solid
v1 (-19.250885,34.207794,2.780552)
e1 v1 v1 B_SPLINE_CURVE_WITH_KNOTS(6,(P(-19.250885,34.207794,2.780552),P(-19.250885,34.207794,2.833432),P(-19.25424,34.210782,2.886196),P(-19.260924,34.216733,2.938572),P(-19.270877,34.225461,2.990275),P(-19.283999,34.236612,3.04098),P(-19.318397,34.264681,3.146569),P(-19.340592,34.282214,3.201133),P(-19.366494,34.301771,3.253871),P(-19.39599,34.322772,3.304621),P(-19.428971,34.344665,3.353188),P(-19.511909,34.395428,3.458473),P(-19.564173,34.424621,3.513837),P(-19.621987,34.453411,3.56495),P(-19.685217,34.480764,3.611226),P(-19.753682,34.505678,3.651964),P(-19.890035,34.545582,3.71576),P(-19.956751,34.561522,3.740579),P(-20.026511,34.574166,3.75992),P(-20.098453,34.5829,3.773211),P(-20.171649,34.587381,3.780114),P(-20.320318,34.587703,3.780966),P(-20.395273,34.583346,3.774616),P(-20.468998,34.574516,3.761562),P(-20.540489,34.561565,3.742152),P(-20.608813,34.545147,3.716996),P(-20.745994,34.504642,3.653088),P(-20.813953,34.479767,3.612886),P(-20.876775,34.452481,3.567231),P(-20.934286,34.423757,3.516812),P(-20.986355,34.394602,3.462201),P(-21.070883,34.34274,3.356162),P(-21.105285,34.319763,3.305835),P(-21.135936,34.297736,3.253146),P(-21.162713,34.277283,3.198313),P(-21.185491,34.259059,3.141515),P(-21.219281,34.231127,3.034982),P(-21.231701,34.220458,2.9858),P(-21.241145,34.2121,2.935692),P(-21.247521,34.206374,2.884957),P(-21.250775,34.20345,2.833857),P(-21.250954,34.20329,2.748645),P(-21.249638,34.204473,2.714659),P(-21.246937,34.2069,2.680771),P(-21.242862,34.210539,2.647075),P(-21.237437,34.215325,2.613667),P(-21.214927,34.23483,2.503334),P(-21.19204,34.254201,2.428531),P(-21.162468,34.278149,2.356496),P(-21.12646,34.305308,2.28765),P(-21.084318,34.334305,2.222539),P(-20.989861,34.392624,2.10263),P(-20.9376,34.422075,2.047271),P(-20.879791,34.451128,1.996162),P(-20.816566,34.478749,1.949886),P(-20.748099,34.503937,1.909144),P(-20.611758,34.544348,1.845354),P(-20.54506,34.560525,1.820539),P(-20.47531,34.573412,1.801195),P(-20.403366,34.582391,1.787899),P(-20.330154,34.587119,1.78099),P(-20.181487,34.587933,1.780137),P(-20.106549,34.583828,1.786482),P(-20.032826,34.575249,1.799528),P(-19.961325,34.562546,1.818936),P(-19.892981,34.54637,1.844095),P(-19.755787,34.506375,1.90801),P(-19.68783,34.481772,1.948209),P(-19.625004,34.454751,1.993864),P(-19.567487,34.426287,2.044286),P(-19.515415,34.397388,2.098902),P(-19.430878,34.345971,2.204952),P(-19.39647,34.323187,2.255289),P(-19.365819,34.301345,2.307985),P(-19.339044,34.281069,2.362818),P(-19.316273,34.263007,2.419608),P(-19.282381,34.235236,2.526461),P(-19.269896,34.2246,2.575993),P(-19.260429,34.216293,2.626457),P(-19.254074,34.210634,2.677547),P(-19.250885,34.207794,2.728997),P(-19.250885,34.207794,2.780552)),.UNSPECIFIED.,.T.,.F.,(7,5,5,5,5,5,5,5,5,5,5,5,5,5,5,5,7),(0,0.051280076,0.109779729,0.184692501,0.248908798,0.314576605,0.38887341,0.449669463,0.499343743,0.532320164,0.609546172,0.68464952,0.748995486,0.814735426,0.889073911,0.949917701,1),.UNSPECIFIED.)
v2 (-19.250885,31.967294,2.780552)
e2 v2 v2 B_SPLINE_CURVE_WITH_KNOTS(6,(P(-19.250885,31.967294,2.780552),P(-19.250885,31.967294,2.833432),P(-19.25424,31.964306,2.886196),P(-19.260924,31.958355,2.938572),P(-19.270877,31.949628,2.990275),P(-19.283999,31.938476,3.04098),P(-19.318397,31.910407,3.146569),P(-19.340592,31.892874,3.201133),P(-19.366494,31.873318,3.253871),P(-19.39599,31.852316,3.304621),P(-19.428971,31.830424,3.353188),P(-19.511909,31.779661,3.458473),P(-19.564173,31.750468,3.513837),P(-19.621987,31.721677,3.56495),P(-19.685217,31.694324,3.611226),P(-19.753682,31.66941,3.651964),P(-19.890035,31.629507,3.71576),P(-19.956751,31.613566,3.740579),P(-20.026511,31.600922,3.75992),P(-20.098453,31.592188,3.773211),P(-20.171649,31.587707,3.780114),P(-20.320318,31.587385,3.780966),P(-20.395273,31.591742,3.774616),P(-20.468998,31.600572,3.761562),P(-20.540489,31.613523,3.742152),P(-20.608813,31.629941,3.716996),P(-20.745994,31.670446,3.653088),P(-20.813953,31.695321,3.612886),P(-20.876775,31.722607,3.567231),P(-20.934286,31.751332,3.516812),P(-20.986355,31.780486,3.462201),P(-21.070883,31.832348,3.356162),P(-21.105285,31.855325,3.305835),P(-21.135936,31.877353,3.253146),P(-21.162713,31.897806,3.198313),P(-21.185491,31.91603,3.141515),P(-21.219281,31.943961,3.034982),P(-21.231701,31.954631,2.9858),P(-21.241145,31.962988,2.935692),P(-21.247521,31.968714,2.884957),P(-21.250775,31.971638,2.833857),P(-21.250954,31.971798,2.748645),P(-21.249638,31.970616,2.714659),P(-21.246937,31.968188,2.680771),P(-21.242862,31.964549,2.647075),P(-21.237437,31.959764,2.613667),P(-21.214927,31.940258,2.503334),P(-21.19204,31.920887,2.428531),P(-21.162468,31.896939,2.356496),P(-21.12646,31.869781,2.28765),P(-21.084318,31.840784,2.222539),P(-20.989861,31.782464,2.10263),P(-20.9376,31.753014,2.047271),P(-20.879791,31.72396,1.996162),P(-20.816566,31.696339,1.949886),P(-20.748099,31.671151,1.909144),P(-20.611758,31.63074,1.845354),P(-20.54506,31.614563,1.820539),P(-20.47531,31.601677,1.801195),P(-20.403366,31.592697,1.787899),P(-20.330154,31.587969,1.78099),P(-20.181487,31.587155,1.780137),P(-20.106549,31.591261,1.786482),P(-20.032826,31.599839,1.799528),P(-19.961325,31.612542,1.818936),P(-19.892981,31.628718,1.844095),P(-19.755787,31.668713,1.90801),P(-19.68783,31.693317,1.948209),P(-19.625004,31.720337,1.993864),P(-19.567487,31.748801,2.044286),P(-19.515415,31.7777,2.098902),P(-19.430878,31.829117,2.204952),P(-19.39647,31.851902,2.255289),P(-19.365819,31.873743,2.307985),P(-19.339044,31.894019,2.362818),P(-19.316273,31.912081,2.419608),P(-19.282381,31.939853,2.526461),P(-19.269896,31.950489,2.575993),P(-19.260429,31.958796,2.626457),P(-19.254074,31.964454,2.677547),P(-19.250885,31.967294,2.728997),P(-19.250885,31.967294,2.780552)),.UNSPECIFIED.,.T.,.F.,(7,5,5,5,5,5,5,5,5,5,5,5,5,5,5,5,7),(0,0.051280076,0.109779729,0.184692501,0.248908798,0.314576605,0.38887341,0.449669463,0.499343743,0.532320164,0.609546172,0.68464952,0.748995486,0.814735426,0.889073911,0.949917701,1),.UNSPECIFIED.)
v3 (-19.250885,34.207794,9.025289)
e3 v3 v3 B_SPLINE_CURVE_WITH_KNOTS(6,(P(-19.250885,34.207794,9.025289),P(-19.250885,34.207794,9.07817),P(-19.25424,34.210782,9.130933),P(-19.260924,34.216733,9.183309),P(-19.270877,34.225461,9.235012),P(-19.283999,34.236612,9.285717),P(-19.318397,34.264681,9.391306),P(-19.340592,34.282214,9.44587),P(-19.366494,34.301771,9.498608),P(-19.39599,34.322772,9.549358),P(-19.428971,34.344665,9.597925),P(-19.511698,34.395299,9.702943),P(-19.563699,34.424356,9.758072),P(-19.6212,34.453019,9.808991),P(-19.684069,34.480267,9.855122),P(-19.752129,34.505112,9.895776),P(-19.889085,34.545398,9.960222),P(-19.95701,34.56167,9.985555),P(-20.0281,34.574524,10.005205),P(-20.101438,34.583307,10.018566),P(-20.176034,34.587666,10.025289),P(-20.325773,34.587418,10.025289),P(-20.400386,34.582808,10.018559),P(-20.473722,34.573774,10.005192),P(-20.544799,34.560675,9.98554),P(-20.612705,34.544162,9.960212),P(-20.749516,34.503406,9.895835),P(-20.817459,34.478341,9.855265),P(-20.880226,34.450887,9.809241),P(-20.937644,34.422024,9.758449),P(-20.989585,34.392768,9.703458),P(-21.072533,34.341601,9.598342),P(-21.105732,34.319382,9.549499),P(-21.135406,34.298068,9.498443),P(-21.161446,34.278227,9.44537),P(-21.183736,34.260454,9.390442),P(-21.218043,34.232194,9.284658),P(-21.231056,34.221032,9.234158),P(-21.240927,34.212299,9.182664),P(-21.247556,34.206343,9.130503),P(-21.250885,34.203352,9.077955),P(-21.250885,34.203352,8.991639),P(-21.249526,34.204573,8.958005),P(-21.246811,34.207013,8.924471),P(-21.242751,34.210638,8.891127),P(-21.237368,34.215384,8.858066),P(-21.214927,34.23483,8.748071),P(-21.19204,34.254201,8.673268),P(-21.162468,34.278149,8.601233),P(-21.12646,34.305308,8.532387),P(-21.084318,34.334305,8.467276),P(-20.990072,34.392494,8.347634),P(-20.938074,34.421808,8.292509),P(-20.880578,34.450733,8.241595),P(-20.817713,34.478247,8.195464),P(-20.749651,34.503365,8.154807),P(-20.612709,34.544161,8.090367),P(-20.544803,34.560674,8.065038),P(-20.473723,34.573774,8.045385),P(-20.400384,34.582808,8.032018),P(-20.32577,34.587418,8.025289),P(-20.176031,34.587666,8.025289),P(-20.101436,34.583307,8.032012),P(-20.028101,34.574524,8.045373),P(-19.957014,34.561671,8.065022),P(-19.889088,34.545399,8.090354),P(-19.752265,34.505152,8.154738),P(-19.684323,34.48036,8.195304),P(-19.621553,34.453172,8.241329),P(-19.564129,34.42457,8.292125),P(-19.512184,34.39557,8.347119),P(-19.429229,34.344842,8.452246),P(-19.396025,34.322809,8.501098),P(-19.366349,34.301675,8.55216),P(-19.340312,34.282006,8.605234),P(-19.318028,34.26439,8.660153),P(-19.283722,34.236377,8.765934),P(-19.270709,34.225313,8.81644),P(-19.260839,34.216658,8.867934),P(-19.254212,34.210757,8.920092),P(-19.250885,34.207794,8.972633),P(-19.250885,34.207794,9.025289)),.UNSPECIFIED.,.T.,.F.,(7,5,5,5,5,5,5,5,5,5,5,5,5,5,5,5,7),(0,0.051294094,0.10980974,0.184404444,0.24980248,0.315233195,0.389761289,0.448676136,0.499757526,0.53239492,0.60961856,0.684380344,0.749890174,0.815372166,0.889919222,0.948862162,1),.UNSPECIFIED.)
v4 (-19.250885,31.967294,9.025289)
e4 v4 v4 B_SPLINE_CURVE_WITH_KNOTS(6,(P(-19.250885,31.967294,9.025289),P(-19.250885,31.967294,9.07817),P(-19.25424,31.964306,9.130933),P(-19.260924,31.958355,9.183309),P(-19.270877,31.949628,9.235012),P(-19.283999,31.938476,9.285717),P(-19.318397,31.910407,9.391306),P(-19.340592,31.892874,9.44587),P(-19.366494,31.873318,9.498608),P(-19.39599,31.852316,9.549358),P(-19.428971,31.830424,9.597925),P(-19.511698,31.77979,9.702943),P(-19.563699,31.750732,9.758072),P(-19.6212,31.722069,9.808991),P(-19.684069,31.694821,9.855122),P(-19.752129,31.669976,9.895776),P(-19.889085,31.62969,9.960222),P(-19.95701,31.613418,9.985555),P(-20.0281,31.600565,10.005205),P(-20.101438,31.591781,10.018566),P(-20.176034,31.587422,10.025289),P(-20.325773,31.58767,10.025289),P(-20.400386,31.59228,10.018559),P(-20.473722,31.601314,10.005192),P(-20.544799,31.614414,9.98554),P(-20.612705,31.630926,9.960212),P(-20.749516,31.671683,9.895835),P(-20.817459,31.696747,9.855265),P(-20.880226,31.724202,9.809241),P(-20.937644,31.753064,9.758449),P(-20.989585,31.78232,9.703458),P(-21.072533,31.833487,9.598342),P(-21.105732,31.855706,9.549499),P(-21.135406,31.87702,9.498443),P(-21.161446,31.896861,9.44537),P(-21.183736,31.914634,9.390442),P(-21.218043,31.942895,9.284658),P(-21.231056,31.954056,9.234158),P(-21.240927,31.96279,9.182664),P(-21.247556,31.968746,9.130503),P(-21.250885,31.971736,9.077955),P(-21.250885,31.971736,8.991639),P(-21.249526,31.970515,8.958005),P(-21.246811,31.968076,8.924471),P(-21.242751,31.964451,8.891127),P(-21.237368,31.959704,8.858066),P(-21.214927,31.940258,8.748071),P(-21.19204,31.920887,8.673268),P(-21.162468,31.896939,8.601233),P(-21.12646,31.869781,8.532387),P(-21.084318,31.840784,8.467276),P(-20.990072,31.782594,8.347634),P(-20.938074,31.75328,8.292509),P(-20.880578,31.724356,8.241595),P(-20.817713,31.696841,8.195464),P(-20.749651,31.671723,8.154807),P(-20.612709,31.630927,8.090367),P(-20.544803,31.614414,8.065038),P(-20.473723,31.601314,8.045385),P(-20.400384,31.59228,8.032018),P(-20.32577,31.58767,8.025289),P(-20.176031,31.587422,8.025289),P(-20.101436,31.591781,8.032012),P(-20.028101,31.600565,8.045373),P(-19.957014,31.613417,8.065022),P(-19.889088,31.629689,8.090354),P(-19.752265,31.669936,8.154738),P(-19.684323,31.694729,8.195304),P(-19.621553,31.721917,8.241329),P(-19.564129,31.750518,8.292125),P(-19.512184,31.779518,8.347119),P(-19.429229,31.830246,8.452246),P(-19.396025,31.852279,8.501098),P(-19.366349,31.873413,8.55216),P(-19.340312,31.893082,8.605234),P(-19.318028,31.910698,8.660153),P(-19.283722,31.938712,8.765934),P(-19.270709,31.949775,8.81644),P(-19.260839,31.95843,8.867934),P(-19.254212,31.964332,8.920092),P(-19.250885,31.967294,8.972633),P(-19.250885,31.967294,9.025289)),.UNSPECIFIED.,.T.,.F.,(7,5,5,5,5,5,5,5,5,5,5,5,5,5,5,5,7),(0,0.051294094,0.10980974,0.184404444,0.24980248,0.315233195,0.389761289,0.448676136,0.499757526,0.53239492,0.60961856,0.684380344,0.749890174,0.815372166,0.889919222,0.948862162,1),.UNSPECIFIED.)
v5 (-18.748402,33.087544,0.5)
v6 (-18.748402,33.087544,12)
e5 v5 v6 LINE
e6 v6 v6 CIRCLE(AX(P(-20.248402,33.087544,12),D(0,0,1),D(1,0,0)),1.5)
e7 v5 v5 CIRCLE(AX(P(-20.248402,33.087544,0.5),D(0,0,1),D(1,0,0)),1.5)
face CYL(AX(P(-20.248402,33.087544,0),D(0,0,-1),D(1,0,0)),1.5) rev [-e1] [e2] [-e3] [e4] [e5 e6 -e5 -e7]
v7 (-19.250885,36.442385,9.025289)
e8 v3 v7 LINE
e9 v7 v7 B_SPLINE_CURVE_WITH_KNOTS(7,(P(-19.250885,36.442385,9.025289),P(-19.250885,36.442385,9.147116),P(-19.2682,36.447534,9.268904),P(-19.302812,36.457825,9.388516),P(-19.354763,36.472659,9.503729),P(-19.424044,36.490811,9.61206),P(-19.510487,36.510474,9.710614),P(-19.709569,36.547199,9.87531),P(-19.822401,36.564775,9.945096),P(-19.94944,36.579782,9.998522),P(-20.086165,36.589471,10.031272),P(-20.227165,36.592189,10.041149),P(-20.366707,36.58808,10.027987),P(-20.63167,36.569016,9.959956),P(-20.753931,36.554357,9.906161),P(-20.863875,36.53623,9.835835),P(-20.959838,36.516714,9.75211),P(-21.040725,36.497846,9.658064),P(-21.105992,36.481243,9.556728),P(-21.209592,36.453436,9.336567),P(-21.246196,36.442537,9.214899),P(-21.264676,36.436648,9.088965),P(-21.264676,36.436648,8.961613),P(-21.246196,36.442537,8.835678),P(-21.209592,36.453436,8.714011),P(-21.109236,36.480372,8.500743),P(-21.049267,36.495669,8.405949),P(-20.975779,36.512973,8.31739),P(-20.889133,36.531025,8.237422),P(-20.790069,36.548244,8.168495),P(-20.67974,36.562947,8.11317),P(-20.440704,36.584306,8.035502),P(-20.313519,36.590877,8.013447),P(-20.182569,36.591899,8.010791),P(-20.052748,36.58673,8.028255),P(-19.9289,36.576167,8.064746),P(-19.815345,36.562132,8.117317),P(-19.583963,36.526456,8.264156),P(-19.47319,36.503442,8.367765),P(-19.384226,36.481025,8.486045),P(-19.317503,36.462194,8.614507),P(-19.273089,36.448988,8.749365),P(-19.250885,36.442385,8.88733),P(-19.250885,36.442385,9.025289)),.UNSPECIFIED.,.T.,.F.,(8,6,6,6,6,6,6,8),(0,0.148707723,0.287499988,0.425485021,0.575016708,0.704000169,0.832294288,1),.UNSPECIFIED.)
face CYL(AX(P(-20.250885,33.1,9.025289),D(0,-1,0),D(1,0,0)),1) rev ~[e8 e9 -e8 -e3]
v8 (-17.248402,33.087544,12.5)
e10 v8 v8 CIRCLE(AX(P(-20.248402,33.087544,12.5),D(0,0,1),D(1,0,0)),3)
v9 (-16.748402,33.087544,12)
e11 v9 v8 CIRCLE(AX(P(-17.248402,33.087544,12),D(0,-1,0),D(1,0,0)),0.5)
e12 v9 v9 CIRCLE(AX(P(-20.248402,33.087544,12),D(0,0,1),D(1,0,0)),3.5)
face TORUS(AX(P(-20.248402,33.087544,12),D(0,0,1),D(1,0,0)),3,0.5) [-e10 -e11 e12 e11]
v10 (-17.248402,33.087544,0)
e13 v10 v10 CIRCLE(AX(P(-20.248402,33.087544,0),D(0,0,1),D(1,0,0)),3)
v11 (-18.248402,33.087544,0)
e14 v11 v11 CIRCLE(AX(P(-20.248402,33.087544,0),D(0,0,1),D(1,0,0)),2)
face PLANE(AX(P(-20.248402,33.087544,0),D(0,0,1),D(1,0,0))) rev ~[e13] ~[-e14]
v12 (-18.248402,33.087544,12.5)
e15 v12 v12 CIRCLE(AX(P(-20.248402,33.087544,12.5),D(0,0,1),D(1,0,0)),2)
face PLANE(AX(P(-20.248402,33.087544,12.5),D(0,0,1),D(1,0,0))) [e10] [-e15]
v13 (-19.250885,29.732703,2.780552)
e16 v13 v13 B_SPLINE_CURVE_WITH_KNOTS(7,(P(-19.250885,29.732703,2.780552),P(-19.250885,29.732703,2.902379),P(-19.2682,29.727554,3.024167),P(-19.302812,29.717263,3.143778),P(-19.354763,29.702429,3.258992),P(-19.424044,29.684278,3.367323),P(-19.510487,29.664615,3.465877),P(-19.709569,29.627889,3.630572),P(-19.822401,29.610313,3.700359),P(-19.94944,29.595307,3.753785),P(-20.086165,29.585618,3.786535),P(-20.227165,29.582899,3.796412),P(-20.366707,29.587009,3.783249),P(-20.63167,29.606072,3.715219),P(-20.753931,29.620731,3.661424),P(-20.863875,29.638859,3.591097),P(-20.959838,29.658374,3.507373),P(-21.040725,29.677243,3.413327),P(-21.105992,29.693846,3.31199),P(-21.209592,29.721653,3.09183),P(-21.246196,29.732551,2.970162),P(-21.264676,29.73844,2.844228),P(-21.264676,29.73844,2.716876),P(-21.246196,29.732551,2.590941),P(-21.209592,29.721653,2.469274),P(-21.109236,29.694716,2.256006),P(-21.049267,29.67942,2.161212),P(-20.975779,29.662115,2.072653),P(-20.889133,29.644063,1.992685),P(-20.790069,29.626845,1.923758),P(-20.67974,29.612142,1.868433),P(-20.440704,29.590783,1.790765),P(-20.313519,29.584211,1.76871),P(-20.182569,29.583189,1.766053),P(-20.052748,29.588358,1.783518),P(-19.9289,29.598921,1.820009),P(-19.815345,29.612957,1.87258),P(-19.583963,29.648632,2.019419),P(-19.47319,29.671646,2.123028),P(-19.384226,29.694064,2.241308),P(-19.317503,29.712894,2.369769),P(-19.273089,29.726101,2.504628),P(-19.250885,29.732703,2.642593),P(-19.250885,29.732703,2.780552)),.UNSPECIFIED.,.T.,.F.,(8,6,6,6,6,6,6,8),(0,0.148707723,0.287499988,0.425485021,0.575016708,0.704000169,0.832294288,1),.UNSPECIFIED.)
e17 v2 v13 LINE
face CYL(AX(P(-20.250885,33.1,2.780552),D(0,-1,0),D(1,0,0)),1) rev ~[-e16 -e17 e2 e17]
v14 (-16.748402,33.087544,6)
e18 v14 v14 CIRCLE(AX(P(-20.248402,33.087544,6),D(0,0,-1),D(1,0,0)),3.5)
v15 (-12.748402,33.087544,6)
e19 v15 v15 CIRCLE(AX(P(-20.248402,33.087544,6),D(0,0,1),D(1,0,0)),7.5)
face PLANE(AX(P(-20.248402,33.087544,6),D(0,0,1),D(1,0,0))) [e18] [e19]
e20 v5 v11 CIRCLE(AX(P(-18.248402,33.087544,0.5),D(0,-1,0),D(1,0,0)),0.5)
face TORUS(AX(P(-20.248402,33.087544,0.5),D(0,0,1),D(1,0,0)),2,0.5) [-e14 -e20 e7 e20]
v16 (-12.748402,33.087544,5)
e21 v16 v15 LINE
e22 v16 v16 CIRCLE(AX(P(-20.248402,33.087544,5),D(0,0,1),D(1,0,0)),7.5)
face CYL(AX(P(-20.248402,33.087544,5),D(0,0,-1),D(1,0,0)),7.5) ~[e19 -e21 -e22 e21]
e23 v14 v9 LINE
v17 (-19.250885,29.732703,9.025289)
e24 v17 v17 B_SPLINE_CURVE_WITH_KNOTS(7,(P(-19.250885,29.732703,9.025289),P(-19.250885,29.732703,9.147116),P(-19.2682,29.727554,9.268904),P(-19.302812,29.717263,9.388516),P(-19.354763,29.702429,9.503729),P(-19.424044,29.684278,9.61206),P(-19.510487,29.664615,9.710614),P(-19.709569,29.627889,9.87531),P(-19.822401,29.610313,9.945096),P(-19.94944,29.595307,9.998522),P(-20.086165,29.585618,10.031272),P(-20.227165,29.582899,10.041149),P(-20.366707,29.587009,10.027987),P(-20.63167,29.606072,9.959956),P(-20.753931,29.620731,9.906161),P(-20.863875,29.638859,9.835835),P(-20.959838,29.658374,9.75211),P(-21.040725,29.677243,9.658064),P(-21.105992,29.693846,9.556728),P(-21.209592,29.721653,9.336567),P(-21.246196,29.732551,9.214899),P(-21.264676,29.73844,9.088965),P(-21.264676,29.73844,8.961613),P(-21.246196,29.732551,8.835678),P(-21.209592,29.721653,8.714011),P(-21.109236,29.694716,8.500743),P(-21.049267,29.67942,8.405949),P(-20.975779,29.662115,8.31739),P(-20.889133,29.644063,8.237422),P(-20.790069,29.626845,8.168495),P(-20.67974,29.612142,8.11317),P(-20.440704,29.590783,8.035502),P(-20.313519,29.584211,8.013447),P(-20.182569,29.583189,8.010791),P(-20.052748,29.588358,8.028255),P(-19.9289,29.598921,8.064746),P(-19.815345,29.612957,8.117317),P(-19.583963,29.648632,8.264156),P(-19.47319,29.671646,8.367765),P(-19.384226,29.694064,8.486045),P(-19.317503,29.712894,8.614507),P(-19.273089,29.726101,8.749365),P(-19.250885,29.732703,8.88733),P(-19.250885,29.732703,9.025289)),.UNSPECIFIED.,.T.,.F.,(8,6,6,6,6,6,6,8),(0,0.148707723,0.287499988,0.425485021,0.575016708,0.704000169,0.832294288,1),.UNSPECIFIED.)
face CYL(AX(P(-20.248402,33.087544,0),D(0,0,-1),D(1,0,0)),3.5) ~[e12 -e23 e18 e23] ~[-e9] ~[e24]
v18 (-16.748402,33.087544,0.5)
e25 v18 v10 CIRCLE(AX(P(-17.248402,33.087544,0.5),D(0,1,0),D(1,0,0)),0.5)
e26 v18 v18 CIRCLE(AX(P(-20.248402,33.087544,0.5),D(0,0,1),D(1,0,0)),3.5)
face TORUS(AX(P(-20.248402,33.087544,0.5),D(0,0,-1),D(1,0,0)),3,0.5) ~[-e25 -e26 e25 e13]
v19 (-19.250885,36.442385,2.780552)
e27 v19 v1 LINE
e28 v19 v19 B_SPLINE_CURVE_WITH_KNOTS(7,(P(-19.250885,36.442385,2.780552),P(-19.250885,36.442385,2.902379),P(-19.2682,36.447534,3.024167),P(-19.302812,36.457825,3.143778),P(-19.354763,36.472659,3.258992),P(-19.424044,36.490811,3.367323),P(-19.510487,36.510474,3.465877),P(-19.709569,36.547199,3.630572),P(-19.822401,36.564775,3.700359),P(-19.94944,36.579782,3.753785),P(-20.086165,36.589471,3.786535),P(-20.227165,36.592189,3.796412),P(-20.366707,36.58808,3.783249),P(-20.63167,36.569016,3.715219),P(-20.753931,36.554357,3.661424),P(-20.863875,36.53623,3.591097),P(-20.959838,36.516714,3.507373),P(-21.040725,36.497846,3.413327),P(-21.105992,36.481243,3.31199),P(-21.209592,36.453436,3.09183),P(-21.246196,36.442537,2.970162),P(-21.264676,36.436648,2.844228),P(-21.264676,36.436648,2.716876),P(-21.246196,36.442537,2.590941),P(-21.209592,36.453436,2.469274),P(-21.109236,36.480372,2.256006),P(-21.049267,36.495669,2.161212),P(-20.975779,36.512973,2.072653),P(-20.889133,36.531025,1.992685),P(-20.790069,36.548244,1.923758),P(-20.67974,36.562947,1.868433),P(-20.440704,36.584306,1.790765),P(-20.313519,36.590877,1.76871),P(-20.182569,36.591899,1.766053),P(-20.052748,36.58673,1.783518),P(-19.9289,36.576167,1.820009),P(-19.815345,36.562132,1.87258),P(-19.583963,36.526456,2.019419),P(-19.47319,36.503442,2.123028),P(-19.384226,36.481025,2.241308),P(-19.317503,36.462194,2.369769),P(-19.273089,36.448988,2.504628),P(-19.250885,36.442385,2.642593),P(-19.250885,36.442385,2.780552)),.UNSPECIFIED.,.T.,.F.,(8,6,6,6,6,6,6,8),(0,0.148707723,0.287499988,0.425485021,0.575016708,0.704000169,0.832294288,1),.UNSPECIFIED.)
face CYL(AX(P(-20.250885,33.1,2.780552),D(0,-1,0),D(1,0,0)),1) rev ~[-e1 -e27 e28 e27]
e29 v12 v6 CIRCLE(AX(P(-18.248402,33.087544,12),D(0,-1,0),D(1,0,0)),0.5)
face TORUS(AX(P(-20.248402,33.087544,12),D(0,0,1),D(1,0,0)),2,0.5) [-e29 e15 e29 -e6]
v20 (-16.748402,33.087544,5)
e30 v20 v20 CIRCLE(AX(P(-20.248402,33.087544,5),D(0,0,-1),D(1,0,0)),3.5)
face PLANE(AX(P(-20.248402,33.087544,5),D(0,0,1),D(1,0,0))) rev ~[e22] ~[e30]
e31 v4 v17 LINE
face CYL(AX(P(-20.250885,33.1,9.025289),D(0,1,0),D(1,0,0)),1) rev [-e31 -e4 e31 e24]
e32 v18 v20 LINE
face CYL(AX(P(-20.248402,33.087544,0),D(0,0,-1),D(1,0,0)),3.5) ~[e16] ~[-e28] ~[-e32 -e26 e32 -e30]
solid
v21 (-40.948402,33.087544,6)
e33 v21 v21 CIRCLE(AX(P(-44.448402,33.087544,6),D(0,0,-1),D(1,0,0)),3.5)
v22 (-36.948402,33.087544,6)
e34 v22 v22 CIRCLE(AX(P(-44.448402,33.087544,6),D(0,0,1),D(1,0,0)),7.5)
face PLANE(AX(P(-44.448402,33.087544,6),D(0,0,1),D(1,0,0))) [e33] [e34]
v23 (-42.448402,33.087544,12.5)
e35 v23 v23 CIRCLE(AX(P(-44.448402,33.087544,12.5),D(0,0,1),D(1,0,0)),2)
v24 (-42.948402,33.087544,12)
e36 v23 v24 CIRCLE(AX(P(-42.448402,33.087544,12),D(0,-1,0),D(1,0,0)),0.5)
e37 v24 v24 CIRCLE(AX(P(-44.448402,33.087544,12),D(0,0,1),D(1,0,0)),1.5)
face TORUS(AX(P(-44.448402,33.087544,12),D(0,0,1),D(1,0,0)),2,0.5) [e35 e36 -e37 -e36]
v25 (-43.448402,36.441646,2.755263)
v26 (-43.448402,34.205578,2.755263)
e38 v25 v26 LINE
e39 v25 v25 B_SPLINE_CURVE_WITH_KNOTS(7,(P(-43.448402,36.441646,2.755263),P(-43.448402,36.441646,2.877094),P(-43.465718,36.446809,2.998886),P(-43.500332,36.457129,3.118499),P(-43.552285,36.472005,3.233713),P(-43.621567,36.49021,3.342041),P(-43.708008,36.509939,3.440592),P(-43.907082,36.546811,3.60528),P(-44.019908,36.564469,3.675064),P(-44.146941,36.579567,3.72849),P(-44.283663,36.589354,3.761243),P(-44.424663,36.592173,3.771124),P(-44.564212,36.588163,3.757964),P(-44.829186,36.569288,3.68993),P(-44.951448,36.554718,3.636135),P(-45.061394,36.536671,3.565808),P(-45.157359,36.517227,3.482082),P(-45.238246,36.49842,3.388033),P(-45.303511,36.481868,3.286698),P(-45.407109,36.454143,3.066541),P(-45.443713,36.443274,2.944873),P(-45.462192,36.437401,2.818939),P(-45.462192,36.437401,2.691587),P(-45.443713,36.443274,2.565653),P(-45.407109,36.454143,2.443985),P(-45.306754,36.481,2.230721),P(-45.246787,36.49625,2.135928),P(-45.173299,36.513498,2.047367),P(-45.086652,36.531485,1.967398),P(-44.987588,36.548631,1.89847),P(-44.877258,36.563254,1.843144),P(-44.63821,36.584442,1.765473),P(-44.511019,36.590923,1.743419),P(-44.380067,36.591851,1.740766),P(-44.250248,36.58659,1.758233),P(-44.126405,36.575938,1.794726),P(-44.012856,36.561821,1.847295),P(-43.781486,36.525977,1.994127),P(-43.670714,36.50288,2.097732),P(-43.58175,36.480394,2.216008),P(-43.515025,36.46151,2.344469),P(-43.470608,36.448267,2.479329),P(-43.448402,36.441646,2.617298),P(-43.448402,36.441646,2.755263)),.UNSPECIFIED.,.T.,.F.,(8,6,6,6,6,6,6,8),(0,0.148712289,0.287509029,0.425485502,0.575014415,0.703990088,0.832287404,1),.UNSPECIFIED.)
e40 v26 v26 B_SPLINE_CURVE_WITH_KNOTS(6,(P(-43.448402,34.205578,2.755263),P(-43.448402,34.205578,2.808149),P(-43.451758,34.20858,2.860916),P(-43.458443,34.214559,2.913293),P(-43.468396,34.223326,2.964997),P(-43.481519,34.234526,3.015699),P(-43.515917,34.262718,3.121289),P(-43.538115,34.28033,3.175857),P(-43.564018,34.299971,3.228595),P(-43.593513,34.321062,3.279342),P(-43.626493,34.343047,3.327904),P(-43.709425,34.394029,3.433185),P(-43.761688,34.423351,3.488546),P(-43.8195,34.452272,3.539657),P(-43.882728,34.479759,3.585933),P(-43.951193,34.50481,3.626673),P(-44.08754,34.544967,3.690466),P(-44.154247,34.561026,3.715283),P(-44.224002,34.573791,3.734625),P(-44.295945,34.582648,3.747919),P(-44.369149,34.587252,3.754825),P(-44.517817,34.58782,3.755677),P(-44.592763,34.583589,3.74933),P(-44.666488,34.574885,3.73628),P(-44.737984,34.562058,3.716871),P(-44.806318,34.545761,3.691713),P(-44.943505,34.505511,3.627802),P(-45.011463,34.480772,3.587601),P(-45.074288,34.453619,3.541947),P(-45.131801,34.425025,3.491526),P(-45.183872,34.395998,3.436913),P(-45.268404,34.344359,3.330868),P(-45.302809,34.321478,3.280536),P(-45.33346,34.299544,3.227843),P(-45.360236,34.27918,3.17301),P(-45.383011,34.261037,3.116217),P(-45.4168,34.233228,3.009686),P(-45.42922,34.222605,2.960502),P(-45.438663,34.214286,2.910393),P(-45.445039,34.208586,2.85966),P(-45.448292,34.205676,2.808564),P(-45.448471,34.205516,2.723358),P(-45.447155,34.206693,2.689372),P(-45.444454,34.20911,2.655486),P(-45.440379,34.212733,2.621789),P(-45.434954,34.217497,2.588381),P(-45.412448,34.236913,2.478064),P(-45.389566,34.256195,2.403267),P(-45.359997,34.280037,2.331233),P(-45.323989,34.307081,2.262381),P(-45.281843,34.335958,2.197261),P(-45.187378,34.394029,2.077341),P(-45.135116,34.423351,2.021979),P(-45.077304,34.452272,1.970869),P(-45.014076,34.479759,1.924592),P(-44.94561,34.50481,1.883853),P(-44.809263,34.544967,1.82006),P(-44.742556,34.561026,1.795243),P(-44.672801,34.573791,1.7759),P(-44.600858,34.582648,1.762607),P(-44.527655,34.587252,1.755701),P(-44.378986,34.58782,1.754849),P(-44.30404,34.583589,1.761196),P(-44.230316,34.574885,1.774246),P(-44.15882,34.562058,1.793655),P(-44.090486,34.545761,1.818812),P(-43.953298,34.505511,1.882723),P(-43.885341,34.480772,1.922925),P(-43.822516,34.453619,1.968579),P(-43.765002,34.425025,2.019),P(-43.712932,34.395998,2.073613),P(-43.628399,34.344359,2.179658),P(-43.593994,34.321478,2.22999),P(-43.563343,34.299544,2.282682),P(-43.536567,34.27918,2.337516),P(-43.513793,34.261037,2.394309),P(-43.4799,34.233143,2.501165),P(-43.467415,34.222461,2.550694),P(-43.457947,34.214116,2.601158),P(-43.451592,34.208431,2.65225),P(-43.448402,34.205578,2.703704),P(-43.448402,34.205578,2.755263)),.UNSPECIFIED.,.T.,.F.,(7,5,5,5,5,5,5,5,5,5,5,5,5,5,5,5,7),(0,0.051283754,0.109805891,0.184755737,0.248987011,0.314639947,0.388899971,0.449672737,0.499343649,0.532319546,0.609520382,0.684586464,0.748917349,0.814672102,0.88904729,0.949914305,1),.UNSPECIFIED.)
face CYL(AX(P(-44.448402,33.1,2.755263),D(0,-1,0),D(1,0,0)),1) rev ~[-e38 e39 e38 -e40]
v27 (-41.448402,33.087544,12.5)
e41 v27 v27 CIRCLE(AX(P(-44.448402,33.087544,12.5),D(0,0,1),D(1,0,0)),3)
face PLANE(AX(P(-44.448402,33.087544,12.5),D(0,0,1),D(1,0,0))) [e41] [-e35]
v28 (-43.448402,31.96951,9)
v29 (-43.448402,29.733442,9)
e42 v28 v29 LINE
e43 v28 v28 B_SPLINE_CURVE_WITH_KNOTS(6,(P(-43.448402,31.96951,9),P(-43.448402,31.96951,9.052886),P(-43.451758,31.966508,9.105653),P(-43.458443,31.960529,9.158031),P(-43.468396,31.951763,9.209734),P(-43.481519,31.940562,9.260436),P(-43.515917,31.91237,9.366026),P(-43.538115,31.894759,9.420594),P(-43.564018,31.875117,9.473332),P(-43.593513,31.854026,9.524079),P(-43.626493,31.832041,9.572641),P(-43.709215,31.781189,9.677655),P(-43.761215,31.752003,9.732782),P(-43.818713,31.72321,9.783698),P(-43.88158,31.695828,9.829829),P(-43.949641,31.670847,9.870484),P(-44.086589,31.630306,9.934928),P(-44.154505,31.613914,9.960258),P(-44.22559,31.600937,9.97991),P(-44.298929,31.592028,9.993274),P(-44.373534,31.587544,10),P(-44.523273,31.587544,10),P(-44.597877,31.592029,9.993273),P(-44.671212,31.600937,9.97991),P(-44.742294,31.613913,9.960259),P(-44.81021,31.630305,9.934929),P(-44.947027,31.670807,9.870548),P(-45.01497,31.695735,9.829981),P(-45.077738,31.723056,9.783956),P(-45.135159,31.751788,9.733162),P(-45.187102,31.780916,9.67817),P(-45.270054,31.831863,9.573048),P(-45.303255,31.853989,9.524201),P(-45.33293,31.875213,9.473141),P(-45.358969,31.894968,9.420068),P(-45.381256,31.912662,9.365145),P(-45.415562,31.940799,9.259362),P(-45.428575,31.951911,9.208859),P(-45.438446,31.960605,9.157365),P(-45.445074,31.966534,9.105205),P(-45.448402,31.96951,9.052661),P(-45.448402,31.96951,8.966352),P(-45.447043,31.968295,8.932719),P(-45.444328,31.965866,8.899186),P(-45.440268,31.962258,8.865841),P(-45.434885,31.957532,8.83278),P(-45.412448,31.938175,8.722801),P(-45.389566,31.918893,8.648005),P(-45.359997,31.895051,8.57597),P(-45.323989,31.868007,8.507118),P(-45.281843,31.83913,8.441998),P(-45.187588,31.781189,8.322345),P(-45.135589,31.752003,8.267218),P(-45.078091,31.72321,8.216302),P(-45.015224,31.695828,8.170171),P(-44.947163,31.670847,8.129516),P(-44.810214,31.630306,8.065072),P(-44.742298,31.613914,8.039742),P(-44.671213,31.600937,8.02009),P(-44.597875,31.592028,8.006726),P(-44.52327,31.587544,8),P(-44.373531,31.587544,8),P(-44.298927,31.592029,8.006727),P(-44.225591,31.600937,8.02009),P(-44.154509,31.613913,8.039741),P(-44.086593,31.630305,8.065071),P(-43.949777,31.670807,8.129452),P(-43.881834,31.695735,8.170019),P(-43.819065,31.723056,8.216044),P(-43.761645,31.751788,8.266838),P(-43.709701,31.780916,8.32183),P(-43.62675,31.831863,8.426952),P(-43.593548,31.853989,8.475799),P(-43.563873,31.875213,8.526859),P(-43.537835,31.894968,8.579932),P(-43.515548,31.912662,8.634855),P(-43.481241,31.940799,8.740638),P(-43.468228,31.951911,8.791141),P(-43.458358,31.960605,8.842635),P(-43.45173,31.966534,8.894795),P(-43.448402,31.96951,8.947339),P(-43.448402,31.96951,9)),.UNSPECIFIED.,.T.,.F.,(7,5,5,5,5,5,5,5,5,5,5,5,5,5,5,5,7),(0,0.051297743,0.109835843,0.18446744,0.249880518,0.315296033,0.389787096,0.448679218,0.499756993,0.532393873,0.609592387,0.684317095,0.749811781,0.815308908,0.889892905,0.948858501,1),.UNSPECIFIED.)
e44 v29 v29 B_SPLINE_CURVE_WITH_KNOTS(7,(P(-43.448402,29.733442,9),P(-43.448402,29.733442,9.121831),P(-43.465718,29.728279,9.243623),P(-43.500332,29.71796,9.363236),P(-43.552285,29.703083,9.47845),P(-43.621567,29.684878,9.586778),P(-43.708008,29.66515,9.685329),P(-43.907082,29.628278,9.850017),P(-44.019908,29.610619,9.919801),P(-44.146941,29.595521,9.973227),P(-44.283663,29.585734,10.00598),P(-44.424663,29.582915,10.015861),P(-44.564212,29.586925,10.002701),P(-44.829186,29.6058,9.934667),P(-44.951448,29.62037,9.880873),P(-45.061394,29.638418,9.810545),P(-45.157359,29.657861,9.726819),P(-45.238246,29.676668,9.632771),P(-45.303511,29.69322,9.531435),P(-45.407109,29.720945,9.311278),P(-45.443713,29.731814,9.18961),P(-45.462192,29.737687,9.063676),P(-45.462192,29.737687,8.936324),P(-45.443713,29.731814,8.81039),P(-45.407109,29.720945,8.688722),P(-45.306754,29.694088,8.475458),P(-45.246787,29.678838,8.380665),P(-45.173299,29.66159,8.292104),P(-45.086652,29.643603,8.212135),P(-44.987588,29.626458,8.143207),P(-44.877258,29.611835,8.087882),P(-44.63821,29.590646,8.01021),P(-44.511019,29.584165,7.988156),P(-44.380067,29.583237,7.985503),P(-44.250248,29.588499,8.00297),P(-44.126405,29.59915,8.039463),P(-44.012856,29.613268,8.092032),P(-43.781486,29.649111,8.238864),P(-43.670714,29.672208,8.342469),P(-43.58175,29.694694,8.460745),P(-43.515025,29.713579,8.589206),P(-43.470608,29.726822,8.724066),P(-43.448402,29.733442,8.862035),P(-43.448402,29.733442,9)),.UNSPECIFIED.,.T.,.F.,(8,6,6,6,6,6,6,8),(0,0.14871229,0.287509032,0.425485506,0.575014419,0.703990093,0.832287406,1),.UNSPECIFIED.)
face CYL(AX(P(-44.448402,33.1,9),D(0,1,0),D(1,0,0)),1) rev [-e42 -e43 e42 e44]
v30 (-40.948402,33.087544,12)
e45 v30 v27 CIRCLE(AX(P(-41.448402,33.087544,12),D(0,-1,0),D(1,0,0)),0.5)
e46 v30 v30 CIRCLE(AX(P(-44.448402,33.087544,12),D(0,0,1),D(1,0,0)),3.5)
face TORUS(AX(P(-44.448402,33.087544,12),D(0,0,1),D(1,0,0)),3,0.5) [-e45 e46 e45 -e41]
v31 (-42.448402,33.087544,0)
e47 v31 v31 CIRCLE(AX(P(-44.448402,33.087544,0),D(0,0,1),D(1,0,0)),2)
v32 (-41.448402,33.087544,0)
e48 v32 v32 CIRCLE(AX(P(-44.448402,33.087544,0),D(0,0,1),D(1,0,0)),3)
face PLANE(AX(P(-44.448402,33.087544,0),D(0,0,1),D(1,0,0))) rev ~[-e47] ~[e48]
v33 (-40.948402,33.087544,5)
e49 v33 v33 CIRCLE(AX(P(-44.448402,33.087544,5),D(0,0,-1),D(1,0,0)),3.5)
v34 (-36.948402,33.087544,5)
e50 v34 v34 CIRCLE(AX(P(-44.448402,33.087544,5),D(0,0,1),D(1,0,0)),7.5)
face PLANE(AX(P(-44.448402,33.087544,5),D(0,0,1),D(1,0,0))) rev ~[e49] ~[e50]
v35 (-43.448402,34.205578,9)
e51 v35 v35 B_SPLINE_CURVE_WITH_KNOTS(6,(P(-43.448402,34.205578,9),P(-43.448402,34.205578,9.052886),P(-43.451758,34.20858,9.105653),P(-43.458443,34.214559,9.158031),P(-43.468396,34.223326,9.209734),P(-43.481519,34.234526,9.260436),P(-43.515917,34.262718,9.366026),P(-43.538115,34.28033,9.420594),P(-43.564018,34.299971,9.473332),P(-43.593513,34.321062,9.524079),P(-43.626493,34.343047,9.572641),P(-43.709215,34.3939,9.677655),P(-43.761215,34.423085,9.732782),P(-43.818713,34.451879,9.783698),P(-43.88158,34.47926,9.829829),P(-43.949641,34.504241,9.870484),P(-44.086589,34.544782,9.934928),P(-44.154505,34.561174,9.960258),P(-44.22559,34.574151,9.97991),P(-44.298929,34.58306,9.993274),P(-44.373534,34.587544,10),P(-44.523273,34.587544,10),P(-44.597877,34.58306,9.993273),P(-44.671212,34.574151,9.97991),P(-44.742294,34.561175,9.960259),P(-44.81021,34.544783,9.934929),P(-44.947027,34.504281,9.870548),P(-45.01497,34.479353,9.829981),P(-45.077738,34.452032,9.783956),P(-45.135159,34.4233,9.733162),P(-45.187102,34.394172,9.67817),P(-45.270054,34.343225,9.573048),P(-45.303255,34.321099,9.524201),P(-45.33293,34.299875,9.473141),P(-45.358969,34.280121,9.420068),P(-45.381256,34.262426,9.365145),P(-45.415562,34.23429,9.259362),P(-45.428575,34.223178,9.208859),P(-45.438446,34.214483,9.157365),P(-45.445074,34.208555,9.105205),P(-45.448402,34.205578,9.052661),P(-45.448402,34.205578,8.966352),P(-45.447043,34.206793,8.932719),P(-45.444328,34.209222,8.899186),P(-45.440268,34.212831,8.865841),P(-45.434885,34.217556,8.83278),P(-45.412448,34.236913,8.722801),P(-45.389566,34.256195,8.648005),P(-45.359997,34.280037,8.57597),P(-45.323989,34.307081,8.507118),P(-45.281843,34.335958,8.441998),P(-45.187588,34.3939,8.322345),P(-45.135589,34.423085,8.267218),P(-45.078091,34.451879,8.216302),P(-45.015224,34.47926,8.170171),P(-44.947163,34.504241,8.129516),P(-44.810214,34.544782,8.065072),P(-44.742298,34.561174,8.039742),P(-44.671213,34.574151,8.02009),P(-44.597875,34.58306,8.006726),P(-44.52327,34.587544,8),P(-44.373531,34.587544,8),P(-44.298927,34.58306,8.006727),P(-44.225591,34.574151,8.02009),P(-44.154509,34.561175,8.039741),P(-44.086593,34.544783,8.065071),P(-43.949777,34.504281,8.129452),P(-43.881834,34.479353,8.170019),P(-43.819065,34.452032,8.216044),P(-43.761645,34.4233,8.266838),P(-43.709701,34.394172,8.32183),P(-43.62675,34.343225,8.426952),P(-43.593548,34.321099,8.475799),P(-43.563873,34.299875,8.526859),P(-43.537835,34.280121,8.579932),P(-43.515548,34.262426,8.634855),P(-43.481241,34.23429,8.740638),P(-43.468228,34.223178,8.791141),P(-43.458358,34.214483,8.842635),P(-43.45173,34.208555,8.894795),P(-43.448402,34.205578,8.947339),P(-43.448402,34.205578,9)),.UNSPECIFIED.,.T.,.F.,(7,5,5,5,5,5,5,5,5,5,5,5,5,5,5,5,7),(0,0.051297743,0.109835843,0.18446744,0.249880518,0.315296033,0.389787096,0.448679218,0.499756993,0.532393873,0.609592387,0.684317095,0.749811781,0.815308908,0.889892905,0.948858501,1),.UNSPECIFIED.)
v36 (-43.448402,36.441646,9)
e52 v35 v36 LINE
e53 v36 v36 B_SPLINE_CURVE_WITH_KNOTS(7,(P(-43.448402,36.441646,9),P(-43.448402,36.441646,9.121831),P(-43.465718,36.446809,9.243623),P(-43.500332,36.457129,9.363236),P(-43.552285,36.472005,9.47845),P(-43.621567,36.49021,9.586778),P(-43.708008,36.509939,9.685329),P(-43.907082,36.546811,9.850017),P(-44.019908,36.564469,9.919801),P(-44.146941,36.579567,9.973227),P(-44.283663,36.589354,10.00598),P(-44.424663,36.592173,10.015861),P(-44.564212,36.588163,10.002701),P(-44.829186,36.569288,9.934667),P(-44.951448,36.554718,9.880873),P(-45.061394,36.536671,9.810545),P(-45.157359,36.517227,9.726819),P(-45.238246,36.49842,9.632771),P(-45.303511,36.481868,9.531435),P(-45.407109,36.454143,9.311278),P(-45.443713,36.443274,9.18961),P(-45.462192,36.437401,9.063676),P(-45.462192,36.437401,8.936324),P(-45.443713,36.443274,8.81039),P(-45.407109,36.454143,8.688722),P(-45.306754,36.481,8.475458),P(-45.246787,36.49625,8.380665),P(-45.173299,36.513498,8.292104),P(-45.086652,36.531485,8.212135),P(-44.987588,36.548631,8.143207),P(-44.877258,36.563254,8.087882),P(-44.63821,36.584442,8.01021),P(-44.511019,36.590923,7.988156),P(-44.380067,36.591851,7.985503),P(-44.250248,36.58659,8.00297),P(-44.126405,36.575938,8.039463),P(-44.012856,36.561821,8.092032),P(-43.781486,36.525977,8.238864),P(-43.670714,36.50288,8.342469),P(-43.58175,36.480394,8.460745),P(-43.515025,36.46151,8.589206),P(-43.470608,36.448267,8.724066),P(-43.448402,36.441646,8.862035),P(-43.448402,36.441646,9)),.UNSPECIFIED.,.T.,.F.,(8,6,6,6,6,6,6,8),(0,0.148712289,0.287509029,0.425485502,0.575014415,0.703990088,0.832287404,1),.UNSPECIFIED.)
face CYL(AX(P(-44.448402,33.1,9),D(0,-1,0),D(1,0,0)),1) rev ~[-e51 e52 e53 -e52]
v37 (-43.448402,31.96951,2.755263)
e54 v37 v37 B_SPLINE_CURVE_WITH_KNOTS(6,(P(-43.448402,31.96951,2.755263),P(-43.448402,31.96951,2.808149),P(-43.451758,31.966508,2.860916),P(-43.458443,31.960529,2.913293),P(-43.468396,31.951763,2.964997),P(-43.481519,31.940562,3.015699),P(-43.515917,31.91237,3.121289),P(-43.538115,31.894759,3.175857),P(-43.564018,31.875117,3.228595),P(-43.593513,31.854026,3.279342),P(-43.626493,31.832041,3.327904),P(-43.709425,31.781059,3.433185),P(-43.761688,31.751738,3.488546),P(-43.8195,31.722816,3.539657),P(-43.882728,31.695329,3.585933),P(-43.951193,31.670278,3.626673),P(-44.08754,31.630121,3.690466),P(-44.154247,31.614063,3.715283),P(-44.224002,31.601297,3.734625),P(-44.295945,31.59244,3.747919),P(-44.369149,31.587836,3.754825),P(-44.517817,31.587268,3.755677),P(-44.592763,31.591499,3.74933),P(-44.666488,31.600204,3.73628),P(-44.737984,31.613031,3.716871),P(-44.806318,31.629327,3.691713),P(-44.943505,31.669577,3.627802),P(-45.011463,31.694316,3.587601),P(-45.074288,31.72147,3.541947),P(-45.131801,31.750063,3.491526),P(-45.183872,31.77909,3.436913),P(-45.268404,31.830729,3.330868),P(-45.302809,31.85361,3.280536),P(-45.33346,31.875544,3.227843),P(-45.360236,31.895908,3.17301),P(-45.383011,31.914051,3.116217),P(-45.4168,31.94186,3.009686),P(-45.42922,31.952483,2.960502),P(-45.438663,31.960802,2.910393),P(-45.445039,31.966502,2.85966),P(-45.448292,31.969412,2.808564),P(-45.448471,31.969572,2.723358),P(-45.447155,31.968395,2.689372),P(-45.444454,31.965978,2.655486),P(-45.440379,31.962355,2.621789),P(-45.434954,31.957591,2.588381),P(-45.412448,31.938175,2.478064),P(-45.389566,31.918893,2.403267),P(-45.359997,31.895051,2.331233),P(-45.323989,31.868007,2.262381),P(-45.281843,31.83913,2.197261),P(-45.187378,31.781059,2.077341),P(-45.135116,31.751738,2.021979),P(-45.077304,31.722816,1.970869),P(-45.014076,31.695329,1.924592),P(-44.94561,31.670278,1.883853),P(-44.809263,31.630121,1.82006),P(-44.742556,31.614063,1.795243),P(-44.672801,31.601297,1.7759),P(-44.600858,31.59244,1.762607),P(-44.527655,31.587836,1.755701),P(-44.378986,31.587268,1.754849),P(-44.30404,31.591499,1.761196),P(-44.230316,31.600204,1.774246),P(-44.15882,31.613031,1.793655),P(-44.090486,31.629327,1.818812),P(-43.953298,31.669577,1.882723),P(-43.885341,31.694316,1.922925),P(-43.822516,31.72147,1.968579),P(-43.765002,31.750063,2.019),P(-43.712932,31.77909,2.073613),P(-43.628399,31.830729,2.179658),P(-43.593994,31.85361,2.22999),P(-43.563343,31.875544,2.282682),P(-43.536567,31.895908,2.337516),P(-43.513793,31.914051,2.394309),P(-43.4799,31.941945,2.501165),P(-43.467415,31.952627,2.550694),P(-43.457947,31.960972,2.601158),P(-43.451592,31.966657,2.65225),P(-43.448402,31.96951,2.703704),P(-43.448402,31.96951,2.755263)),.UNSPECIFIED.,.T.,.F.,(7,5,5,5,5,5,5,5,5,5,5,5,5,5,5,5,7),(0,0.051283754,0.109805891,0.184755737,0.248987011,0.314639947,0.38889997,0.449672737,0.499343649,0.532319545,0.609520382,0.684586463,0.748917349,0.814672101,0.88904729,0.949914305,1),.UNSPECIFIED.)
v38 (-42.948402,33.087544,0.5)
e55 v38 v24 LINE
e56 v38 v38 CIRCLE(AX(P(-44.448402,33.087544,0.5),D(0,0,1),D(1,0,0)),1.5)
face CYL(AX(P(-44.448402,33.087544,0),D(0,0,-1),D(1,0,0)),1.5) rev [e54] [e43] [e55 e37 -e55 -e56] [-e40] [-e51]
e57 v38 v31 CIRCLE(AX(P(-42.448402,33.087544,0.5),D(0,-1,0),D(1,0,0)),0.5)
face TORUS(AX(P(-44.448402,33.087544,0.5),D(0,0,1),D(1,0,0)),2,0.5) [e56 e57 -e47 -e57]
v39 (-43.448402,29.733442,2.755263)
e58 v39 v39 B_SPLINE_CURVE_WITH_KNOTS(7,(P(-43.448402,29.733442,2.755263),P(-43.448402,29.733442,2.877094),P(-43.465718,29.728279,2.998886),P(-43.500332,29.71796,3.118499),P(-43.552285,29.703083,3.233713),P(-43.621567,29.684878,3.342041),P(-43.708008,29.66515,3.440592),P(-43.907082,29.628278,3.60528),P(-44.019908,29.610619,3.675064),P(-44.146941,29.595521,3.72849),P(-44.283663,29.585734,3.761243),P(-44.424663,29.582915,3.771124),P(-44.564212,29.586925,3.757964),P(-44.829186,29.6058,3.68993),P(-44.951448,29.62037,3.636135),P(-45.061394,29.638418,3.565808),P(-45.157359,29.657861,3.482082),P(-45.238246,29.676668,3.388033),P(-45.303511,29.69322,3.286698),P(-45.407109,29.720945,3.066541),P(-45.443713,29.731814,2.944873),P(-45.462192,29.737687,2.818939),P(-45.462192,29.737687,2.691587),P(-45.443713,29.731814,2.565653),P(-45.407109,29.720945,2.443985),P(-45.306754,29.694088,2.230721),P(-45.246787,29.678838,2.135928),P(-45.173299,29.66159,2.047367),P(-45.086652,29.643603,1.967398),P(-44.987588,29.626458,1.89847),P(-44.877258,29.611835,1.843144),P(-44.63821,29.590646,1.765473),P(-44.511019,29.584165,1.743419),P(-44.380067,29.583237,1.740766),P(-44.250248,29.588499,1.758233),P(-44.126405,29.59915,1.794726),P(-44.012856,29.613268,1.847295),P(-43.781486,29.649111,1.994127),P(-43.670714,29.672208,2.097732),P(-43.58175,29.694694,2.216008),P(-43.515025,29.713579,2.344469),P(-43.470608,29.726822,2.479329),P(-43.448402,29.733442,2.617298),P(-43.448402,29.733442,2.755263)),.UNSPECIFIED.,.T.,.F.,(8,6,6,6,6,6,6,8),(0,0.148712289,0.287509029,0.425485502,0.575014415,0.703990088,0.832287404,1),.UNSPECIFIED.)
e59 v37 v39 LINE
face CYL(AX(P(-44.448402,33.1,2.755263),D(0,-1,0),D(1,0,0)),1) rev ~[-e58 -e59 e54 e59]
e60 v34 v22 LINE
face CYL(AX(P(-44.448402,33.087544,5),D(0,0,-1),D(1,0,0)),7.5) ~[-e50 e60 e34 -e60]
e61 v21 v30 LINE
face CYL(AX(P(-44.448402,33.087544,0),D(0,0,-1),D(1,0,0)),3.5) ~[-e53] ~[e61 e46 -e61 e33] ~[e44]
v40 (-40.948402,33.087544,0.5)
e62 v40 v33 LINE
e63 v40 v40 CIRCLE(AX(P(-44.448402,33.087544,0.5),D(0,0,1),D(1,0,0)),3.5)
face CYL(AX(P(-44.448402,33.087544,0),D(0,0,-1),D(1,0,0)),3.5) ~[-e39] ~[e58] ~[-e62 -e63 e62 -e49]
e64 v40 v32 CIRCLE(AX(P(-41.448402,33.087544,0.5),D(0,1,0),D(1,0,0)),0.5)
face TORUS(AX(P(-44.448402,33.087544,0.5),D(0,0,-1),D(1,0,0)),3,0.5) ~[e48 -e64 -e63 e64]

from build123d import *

# Parameters (mm, degrees)
F0_R           = 3.5
F0_R_2         = 1.5
F1_DEPTH       = 12.5
F2_R           = 0.5
F4_R           = 7.5
F4_R_2         = 1.5
F5_DEPTH       = 1
F6_R           = 0.5
F9_R           = 1
F10_DEPTH      = 4
F10_DEPTH_BACK = 4.2
F11_R          = 1
F12_DEPTH      = 7
F12_DEPTH_BACK = 7


with BuildPart() as f1:
    # F0 (on Top) → F1 (new body)
    with BuildSketch(Plane.XY):
        with Locations((-44.4484017789, 33.0875441432)):
            Circle(F0_R)
        with Locations((-44.4484017789, 33.0875441432)):
            Circle(F0_R_2, mode=Mode.SUBTRACT)
    extrude(amount=F1_DEPTH)

    # F2
    f2_edges = [f1.edges().sort_by_distance(p)[0] for p in [
        (-47.948402, 33.087544, 12.5),
        (-47.948402, 33.087544, 0),
    ]]
    fillet(f2_edges, radius=F2_R)

    # F4 (on offset) → F5 (join)
    with BuildSketch(Plane.XY.offset(5)):
        with Locations((-44.4484017789, 33.0875441432)):
            Circle(F4_R)
        with Locations((-44.4484017789, 33.0875441432)):
            Circle(F4_R_2, mode=Mode.SUBTRACT)
    extrude(amount=F5_DEPTH)

    # F6
    f6_edges = [f1.edges().sort_by_distance(p)[0] for p in [
        (-45.948402, 33.087544, 12.5),
        (-45.948402, 33.087544, 0),
    ]]
    fillet(f6_edges, radius=F6_R)


with BuildPart() as f7_1:
    # F7: copy of F1
    add(f1.part.moved(Location((24.2, 0, 0))))


with BuildPart() as f10_tool:
    # F9 (on offset) → F10 (new body, two sides)
    with BuildSketch(Plane.XZ.offset(-33.1)) as f10_sk:
        with Locations((-44.4484017789, 9)):
            Circle(F9_R)
        with Locations((-20.2508848161, 9.0252887458)):
            Circle(F9_R)
    extrude(amount=-F10_DEPTH)
    extrude(f10_sk.sketch, amount=F10_DEPTH_BACK)


with BuildPart() as f1_1:
    add(f1.part)

    # F10: cut by f10_tool
    add(f10_tool.part, mode=Mode.SUBTRACT)


with BuildPart() as f7_1_1:
    add(f7_1.part)

    # F10: cut by f10_tool
    add(f10_tool.part, mode=Mode.SUBTRACT)


with BuildPart() as f12_tool:
    # F11 (on offset) → F12 (new body, two sides)
    with BuildSketch(Plane.XZ.offset(-33.1)) as f12_sk:
        with Locations((-20.2508848161, 9.0252887458)):
            Circle(F11_R)
        with Locations((-44.4484017789, 2.755262898)):
            Circle(F11_R)
        with Locations((-20.2508848161, 2.7805516438)):
            Circle(F11_R)
    extrude(amount=F12_DEPTH)
    extrude(f12_sk.sketch, amount=-F12_DEPTH_BACK)


with BuildPart() as f1_2:
    add(f1_1.part)

    # F12: cut by f12_tool
    add(f12_tool.part, mode=Mode.SUBTRACT)


with BuildPart() as f7_1_2:
    add(f7_1_1.part)

    # F12: cut by f12_tool
    add(f12_tool.part, mode=Mode.SUBTRACT)


solid = Compound([f1_2.part, f7_1_2.part])
